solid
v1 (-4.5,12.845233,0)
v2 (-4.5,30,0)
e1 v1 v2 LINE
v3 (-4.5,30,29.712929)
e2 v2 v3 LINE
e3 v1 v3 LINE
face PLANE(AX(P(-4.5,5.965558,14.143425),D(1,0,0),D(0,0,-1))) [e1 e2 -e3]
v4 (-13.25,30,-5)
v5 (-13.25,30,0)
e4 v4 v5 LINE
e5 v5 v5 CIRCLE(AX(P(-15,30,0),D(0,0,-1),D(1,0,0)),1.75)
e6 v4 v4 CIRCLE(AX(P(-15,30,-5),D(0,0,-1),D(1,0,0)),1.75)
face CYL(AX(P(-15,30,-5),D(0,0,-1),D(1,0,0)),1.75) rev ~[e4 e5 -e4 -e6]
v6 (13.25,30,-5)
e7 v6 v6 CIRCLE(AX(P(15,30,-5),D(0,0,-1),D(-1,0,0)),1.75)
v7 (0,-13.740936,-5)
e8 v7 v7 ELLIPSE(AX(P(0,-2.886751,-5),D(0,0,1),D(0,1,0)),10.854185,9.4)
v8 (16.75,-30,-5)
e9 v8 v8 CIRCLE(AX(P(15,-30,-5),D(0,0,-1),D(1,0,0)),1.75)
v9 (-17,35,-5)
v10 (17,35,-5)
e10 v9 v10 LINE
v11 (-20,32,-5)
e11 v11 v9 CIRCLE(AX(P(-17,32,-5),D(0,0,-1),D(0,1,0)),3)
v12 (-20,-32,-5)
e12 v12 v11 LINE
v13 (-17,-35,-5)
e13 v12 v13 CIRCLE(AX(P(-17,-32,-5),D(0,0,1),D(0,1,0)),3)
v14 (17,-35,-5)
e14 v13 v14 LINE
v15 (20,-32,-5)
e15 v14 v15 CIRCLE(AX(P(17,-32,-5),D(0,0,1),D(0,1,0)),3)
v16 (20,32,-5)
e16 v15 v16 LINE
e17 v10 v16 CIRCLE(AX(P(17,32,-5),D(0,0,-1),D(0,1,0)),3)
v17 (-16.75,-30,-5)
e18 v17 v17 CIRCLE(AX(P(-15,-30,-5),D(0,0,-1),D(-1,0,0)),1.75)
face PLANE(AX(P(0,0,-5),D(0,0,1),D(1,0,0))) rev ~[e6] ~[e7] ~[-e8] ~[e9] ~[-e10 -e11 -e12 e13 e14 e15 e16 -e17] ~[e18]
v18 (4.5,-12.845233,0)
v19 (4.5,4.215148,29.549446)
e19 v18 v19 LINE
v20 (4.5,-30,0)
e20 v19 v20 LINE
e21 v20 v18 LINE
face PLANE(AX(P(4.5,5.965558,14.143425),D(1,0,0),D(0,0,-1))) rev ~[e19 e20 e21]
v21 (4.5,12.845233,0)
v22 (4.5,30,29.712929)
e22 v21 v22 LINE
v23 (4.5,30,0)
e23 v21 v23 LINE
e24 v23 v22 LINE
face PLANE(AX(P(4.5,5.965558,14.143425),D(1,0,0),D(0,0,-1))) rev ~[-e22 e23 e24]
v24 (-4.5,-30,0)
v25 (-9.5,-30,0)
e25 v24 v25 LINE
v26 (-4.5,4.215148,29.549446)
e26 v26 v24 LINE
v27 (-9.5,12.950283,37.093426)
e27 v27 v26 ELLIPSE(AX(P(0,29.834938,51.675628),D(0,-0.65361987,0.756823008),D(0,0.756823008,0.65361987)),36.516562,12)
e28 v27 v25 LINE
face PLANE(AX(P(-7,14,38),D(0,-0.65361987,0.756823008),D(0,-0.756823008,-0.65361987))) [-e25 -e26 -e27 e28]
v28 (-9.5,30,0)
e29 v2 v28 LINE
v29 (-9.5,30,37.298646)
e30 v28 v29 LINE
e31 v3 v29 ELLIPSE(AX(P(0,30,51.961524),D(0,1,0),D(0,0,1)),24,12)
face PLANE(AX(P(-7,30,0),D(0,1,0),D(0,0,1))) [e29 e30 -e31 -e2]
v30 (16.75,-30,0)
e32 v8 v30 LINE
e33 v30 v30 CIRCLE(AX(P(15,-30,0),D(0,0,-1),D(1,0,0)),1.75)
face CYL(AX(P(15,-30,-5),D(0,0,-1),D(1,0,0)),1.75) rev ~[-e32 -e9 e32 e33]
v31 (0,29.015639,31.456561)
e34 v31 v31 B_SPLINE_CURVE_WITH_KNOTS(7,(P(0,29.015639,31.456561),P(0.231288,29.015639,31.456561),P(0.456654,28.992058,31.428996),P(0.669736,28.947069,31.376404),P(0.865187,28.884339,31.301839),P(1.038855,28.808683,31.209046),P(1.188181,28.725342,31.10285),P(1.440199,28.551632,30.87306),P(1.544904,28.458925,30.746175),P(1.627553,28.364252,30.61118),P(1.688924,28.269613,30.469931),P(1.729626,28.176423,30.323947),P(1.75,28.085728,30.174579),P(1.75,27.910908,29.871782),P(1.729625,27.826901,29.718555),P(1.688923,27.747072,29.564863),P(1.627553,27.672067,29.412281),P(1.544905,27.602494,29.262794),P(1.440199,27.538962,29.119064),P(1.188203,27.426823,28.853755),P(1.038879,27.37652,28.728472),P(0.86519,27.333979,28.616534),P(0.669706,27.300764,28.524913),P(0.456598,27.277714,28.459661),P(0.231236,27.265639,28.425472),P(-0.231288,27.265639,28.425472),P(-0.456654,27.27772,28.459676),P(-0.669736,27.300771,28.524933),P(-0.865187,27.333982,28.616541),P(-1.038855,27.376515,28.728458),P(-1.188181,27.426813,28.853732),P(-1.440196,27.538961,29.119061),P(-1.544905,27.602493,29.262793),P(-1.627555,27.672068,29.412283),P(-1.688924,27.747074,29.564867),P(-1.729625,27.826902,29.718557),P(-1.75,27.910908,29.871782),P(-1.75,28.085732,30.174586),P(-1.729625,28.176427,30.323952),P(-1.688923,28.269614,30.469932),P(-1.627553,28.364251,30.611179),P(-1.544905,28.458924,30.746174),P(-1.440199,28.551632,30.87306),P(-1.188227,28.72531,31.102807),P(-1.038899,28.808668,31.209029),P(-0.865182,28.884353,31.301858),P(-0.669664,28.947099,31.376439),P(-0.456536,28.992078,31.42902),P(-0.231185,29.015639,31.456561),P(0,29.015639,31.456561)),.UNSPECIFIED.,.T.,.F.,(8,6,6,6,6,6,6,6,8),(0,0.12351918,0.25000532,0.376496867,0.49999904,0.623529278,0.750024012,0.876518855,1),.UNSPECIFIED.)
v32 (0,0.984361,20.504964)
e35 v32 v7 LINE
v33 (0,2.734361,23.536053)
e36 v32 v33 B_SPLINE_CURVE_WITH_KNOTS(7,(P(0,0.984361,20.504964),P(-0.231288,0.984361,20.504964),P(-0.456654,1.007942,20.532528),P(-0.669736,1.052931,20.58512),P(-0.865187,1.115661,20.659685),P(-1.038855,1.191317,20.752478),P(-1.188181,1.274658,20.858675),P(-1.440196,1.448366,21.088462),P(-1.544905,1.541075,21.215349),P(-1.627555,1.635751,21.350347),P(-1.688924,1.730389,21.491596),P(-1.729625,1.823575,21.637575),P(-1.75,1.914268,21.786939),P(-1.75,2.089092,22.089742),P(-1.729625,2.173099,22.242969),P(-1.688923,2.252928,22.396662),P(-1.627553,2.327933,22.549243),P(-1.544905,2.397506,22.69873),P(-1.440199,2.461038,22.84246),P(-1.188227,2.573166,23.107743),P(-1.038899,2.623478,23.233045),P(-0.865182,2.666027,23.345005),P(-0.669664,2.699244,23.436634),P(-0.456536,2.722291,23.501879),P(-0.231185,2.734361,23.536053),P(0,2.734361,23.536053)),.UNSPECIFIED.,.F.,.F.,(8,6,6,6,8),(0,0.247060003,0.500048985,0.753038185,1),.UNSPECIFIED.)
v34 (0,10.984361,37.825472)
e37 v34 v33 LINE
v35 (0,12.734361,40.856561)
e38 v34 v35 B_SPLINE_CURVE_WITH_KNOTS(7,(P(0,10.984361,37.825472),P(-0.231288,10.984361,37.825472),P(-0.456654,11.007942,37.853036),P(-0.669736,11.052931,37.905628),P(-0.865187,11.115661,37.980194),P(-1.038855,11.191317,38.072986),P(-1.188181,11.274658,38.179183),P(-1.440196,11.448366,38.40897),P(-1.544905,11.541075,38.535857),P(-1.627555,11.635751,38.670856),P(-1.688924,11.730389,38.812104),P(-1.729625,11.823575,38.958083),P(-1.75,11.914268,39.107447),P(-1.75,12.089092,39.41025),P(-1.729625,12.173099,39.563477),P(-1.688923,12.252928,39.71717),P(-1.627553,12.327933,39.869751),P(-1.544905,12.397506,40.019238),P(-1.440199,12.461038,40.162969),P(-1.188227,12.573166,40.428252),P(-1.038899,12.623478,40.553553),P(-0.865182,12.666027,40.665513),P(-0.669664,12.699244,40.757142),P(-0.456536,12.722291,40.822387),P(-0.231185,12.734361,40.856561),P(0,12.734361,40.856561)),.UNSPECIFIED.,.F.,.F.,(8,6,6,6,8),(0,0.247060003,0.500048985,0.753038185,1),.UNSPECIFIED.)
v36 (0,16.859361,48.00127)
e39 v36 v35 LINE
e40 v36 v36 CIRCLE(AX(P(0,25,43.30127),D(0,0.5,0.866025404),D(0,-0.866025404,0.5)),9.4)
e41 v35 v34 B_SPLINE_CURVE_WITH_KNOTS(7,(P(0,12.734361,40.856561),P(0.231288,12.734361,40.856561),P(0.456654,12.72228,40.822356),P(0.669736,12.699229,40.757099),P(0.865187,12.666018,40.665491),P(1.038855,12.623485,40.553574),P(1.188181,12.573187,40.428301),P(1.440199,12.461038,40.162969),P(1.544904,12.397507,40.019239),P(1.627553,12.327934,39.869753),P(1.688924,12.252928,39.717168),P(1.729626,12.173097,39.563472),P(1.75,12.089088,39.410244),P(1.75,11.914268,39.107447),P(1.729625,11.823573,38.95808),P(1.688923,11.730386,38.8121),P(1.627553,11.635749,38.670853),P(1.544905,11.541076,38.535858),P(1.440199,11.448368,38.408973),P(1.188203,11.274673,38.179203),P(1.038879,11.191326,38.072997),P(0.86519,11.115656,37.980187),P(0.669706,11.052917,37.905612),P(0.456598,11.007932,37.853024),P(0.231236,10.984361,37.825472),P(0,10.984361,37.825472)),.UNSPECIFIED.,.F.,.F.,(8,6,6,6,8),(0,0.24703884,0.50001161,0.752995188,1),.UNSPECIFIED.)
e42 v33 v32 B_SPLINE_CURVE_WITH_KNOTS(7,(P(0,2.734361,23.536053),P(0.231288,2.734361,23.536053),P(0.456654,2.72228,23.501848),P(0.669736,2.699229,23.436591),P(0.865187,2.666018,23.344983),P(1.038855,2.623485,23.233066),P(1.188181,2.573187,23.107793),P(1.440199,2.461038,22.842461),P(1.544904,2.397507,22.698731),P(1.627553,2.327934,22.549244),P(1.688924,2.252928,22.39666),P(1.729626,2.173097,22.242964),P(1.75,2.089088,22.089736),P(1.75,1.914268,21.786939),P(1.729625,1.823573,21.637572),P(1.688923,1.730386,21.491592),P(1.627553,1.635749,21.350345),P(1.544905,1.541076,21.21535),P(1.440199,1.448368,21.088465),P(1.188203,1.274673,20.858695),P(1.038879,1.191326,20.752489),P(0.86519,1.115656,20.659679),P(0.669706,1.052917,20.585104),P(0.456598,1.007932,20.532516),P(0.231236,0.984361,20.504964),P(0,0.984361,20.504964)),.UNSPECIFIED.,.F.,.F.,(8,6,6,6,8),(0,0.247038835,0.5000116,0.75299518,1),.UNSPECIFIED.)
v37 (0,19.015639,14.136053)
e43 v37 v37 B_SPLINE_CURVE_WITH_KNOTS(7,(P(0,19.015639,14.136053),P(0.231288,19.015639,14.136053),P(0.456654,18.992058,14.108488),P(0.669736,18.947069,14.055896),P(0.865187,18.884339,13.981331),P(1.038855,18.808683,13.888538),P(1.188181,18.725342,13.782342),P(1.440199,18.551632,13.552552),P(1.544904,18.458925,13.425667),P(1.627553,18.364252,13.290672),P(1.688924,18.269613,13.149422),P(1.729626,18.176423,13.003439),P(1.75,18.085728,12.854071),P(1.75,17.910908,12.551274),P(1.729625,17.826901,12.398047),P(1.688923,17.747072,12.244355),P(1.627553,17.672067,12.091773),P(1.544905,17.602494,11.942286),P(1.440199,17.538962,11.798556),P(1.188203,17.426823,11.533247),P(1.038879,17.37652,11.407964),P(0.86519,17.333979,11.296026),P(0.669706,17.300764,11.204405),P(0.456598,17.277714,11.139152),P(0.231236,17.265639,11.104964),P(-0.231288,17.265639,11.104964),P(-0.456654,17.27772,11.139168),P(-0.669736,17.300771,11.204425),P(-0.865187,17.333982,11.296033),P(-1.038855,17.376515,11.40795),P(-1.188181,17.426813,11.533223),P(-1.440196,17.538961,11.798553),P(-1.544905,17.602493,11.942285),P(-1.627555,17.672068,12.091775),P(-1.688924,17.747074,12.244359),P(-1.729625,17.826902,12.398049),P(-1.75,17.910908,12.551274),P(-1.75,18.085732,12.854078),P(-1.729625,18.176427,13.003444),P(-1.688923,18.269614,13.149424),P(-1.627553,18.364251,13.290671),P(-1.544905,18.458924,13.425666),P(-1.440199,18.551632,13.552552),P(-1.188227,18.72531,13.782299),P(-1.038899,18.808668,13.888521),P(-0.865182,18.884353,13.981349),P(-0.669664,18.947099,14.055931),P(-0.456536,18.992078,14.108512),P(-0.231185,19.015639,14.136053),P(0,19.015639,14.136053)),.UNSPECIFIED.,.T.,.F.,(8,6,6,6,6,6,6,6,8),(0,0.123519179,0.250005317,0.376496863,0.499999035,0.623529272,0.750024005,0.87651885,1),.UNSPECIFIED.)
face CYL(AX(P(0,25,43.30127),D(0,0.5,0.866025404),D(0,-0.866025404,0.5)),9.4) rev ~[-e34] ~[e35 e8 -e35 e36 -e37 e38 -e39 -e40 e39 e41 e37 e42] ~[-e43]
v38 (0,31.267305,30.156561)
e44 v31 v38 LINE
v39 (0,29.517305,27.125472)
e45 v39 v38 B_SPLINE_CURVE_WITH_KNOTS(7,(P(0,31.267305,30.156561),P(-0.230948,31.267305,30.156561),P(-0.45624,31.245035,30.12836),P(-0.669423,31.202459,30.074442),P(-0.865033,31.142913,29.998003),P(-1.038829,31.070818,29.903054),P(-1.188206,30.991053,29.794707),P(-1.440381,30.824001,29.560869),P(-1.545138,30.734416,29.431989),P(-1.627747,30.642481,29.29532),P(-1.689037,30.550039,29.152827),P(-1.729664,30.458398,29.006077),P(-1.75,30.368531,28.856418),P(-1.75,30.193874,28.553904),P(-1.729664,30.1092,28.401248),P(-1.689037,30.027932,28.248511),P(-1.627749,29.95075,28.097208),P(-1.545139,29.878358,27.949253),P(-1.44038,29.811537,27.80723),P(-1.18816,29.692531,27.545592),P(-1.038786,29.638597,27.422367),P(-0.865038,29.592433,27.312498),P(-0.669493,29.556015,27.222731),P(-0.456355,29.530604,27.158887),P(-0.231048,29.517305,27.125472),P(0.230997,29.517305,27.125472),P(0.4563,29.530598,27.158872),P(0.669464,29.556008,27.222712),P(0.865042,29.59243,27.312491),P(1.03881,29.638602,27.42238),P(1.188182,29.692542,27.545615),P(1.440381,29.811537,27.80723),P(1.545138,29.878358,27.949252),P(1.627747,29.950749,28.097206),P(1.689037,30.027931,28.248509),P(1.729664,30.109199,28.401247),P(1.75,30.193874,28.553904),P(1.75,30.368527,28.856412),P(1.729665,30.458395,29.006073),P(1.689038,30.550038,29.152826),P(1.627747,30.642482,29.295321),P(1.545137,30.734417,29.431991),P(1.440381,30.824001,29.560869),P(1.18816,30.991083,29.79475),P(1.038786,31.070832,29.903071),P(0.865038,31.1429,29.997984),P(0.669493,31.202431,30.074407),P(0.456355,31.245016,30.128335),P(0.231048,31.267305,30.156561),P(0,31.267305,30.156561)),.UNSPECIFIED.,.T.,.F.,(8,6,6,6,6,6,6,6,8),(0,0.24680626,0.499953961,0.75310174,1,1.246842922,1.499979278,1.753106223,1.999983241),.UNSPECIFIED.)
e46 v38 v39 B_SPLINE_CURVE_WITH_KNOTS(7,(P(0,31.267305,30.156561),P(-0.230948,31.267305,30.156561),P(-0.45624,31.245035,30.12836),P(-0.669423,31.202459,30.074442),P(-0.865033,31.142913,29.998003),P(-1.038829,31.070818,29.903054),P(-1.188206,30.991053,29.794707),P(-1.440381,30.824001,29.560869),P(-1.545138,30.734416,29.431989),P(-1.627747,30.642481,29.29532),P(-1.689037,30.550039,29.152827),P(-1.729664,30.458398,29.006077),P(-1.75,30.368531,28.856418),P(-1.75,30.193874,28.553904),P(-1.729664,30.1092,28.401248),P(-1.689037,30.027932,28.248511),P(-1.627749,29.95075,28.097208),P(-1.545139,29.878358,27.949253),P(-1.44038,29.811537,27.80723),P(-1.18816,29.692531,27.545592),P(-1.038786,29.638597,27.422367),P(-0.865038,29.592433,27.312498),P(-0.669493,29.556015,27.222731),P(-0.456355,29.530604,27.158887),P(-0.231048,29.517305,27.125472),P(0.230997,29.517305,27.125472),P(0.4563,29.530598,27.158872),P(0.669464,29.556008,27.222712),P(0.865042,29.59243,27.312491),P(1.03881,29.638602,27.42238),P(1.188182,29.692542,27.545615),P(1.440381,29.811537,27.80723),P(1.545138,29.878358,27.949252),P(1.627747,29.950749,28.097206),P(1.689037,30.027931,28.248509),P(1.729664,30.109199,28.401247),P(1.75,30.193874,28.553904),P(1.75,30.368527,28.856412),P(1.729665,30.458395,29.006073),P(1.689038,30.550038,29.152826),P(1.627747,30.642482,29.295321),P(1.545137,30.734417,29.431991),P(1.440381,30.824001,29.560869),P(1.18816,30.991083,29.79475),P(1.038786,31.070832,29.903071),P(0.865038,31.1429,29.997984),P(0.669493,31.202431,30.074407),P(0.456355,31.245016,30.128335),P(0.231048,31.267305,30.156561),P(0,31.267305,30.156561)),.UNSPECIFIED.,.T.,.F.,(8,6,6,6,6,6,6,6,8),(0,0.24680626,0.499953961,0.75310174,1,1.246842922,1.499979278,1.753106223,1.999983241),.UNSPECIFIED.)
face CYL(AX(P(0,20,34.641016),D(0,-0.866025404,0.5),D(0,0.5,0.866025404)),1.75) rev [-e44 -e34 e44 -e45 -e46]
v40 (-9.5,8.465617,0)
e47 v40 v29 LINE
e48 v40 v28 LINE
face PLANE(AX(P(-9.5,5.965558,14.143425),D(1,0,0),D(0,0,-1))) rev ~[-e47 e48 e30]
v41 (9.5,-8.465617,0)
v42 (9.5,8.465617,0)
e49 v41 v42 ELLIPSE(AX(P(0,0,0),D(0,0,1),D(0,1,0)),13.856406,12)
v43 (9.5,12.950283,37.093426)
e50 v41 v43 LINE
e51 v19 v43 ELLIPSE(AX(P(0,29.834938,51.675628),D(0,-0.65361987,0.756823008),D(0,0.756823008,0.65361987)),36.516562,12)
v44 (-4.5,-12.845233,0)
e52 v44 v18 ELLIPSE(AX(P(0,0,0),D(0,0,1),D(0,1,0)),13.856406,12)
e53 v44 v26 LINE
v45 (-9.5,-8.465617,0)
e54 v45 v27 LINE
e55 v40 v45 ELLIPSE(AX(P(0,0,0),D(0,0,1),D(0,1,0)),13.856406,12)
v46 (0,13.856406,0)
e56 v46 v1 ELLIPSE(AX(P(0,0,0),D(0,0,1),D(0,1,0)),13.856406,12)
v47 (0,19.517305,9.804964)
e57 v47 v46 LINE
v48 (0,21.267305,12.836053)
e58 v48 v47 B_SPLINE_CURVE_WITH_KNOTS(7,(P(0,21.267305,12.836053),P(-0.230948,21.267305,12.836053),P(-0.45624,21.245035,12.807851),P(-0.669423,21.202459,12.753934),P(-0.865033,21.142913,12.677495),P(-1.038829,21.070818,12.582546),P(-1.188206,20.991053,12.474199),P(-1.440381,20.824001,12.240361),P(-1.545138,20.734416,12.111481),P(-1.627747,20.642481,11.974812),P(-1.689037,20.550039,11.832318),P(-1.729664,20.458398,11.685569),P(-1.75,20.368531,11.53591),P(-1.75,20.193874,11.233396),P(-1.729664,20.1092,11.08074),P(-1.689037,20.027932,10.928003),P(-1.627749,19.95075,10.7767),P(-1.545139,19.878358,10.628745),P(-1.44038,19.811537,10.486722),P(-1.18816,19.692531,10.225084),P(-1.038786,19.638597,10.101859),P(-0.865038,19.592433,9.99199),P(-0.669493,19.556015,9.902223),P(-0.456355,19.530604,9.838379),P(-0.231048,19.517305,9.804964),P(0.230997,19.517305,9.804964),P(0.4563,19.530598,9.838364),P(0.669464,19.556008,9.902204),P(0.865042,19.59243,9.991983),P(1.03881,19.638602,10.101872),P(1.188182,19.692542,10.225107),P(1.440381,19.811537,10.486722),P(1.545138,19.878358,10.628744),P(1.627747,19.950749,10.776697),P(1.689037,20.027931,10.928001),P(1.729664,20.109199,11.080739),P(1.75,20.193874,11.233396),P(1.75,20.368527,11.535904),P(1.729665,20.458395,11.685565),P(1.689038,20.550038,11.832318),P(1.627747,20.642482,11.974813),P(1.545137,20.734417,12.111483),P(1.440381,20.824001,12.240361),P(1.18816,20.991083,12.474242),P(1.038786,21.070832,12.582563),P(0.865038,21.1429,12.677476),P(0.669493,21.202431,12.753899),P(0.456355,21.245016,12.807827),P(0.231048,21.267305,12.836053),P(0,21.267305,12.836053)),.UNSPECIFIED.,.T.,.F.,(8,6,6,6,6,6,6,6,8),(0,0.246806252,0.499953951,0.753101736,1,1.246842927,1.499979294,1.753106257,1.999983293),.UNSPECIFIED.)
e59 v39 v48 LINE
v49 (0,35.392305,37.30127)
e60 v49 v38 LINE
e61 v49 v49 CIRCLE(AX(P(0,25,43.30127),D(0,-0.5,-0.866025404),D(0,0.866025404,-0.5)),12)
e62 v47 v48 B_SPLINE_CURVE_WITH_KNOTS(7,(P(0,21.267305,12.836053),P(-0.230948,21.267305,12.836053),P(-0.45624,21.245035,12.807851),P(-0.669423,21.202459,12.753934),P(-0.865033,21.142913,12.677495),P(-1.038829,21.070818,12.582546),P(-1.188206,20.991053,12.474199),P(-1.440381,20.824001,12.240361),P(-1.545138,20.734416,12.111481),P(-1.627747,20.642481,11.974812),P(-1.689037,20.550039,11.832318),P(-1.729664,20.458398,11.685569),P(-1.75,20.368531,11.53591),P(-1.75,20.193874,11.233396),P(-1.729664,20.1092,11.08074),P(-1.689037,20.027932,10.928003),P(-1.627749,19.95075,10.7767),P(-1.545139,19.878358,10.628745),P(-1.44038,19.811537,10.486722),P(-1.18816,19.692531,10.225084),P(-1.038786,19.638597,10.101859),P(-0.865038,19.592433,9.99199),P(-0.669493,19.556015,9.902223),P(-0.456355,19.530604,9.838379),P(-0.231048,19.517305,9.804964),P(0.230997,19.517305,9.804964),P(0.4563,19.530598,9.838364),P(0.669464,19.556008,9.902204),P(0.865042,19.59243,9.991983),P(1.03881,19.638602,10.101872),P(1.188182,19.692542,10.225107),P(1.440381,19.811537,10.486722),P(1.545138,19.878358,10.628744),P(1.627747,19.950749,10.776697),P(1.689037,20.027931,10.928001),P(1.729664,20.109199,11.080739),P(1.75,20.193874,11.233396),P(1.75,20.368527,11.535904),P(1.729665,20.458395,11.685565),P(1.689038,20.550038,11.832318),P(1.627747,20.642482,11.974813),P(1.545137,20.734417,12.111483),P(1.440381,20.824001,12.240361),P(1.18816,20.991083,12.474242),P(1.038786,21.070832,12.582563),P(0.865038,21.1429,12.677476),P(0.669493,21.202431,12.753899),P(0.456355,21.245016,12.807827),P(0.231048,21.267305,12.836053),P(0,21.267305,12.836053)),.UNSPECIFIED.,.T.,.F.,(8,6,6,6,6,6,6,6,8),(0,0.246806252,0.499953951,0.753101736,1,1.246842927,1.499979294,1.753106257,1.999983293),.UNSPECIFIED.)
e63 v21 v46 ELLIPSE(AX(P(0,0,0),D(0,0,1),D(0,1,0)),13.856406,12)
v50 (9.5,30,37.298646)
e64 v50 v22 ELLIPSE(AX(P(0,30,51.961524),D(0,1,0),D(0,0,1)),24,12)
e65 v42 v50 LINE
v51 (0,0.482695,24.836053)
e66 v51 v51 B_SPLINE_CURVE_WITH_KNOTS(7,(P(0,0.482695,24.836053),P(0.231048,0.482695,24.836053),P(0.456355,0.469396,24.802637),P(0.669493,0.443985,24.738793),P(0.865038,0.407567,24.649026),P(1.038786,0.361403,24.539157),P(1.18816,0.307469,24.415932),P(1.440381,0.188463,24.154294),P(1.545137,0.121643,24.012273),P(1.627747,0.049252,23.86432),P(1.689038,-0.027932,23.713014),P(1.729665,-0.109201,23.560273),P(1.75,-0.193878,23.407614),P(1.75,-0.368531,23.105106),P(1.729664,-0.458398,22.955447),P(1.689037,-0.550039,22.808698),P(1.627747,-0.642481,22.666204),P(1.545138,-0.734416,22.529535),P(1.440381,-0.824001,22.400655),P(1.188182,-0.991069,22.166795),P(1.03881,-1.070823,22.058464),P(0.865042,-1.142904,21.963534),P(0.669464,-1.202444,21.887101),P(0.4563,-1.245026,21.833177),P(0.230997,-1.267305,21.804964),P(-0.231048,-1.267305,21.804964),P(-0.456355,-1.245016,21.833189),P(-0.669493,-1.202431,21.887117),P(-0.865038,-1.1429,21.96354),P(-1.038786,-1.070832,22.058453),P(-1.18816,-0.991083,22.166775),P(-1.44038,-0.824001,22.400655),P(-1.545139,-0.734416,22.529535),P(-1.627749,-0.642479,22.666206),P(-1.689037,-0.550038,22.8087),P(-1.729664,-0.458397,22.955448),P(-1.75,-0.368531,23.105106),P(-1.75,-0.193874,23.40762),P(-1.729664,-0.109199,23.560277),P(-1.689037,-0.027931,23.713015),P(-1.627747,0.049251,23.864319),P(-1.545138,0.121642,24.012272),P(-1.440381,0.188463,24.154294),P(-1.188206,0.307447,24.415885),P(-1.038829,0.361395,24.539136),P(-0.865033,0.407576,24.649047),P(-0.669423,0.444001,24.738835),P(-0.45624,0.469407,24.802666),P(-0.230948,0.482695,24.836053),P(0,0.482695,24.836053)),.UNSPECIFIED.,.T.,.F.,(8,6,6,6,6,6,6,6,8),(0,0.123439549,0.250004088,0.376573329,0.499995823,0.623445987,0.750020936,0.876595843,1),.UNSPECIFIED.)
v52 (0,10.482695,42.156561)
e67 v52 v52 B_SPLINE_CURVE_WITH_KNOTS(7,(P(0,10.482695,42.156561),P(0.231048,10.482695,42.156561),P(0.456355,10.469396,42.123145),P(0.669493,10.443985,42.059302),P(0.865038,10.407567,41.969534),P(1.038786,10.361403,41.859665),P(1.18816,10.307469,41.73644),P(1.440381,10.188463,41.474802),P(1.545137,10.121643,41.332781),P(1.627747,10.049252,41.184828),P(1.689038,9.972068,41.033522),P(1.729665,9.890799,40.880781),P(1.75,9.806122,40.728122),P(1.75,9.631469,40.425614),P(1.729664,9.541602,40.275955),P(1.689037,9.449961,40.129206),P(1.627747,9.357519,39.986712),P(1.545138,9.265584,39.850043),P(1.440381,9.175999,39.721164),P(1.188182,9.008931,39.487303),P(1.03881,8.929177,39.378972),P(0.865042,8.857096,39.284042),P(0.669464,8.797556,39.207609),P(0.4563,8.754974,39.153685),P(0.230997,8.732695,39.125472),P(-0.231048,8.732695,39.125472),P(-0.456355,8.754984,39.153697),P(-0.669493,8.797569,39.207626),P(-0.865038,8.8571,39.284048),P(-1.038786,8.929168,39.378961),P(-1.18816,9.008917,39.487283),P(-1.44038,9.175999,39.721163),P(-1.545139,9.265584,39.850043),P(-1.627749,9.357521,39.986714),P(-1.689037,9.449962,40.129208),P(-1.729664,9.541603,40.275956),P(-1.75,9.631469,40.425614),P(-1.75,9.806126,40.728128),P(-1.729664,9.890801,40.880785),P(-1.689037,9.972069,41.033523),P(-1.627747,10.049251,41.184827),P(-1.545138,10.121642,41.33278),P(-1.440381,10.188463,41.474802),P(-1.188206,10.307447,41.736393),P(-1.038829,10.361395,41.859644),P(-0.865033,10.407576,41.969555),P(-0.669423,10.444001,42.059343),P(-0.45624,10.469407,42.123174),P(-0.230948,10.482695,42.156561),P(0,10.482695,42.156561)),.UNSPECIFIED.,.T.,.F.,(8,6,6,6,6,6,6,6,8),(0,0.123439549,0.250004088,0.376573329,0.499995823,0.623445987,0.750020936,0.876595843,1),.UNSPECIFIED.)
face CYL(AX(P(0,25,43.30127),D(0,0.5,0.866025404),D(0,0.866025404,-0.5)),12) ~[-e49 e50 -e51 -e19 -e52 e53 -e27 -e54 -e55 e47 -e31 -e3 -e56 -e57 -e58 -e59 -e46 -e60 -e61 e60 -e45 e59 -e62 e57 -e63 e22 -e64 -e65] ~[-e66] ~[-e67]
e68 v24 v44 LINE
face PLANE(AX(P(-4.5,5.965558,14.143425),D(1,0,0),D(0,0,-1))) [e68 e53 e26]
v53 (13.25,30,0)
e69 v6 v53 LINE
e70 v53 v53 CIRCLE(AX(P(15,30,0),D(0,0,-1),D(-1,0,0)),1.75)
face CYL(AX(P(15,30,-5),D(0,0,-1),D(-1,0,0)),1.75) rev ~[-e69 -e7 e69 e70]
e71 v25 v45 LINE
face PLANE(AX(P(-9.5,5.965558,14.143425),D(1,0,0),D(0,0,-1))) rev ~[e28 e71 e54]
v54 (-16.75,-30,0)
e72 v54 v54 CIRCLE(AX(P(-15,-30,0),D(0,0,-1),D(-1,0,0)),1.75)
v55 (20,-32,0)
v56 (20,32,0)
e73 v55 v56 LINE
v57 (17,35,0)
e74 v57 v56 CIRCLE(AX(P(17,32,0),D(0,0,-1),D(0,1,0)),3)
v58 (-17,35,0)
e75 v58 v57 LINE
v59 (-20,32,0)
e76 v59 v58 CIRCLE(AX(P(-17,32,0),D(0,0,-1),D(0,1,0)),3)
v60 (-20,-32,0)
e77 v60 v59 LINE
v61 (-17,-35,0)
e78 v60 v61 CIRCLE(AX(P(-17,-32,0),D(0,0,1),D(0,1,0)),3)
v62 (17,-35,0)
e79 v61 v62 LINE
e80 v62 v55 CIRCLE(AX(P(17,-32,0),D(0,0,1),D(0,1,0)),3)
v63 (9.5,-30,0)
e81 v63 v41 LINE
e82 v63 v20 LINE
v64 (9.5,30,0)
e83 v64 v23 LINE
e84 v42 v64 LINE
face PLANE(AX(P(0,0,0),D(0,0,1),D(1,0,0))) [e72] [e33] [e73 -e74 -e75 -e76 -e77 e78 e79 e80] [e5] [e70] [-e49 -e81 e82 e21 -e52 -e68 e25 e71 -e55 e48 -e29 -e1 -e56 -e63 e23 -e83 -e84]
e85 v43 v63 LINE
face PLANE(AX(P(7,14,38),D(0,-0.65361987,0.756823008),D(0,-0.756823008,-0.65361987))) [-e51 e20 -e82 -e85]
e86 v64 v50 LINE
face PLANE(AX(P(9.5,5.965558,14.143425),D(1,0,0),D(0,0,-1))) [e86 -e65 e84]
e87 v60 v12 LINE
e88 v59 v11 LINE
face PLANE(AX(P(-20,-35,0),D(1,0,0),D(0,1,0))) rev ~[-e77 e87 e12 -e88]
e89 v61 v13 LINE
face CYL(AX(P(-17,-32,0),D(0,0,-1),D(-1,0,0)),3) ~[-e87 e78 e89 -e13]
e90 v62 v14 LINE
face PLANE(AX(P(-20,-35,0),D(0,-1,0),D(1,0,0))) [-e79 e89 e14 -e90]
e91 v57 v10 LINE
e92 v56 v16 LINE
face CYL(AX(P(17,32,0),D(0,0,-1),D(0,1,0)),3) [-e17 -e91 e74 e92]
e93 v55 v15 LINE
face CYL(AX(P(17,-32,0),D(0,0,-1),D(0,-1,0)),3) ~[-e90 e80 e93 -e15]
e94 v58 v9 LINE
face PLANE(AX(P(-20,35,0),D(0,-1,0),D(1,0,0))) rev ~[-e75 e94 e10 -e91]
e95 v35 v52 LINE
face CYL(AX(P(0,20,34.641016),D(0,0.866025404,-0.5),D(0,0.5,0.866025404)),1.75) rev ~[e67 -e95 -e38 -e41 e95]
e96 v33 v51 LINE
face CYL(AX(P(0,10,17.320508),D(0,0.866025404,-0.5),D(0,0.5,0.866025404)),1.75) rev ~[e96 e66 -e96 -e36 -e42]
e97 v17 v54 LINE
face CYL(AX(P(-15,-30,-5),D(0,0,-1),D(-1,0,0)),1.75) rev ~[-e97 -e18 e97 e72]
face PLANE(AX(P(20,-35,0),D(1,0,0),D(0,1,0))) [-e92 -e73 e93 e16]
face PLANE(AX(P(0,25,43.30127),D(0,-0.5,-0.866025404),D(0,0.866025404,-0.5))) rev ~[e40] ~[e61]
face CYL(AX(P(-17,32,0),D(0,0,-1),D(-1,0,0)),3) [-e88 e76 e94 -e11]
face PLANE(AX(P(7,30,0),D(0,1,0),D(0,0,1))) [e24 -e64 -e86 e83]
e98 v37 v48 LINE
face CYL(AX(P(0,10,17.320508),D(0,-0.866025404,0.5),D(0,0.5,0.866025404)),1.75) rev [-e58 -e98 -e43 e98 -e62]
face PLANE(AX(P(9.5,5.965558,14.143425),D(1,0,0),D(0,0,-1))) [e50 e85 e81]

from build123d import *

# Parameters (mm, degrees)
SKETCH_1_W                           = 40
SKETCH_1_H                           = 70
EXTRUDE_1_DEPTH                      = 5
EXTRUDE_2_REACH                      = 92.62
EXTRUDE_START                        = -50
SKETCH_2_R                           = 12
CUT_EXTRUDE_1_REACH                  = 69.832
SKETCH_4_R                           = 1.75
FILLET_1_R                           = 3
EXTRUDE_START_2                      = 7
EXTRUDE_3_DEPTH                      = 2.5
EXTRUDE_START_3                      = -7
EXTRUDE_4_DEPTH                      = 2.5
SKETCH_5_R                           = 9.4
CUT_EXTRUDE_2_DEPTH                  = 80.580228084
CUT_EXTRUDE_3_REACH                  = 65.9
CUT_EXTRUDE_3_END_RADIUS             = 12
SKETCH_7_R                           = 1.75
CUT_EXTRUDE_3_DIRECTION_2_REACH      = 65.9
CUT_EXTRUDE_3_DIRECTION_2_END_RADIUS = 12


with BuildPart() as part:
    # ｽｹｯﾁ1 → ﾎﾞｽ - 押し出し1 (new body)
    with BuildSketch(Plane.XY):
        Rectangle(SKETCH_1_W, SKETCH_1_H)
    extrude(amount=-EXTRUDE_1_DEPTH)

    # ﾎﾞｽ - 押し出し2: up to this plane
    extrude_2_end = Plane(origin=(0, 0, 0), z_dir=(0, 0, 1))
    # ｽｹｯﾁ2 → ﾎﾞｽ - 押し出し2 (add, up to the surface)
    with BuildSketch(Plane(origin=(0, 0, 0), x_dir=(1, 0, 0), z_dir=(0, -0.49999999999999495, -0.8660254037844416)).offset(EXTRUDE_START), mode=Mode.PRIVATE) as extrude_2_sk1:
        with Locations(Location((0, 0, 0), (0, 0, 270))):
            Circle(SKETCH_2_R)
    extrude_2_tool1 = split(extrude(extrude_2_sk1.sketch, amount=EXTRUDE_2_REACH, mode=Mode.PRIVATE), bisect_by=extrude_2_end, keep=Keep.BOTH, mode=Mode.PRIVATE)
    add(extrude_2_tool1.solids().sort_by_distance((0, 25, 43.30127))[0])

    # ｽｹｯﾁ4 → ｶｯﾄ - 押し出し1 (cut, up to next)
    with BuildSketch(Plane(origin=(0, 0, -5), x_dir=(-1, 0, 0), z_dir=(0, 0, -1)), mode=Mode.PRIVATE) as cut_extrude_1_sk1:
        with Locations((-15, 30)):
            Circle(SKETCH_4_R)
    cut_extrude_1_tool1 = extrude(cut_extrude_1_sk1.sketch, amount=-CUT_EXTRUDE_1_REACH, mode=Mode.PRIVATE) & part.part
    # ｽｹｯﾁ4 → ｶｯﾄ - 押し出し1 (cut, up to next)
    with BuildSketch(Plane(origin=(0, 0, -5), x_dir=(-1, 0, 0), z_dir=(0, 0, -1)), mode=Mode.PRIVATE) as cut_extrude_1_sk2:
        with Locations(Location((15, 30, 0), (0, 0, 180))):
            Circle(SKETCH_4_R)
    cut_extrude_1_tool2 = extrude(cut_extrude_1_sk2.sketch, amount=-CUT_EXTRUDE_1_REACH, mode=Mode.PRIVATE) & part.part
    # ｽｹｯﾁ4 → ｶｯﾄ - 押し出し1 (cut, up to next)
    with BuildSketch(Plane(origin=(0, 0, -5), x_dir=(-1, 0, 0), z_dir=(0, 0, -1)), mode=Mode.PRIVATE) as cut_extrude_1_sk3:
        with Locations((15, -30)):
            Circle(SKETCH_4_R)
    cut_extrude_1_tool3 = extrude(cut_extrude_1_sk3.sketch, amount=-CUT_EXTRUDE_1_REACH, mode=Mode.PRIVATE) & part.part
    # ｽｹｯﾁ4 → ｶｯﾄ - 押し出し1 (cut, up to next)
    with BuildSketch(Plane(origin=(0, 0, -5), x_dir=(-1, 0, 0), z_dir=(0, 0, -1)), mode=Mode.PRIVATE) as cut_extrude_1_sk4:
        with Locations(Location((-15, -30, 0), (0, 0, 180))):
            Circle(SKETCH_4_R)
    cut_extrude_1_tool4 = extrude(cut_extrude_1_sk4.sketch, amount=-CUT_EXTRUDE_1_REACH, mode=Mode.PRIVATE) & part.part
    add(cut_extrude_1_tool1.solids().sort_by_distance((15, 30, -5))[0], mode=Mode.SUBTRACT)
    add(cut_extrude_1_tool2.solids().sort_by_distance((-15, 30, -5))[0], mode=Mode.SUBTRACT)
    add(cut_extrude_1_tool3.solids().sort_by_distance((-15, -30, -5))[0], mode=Mode.SUBTRACT)
    add(cut_extrude_1_tool4.solids().sort_by_distance((15, -30, -5))[0], mode=Mode.SUBTRACT)

    # ﾌｨﾚｯﾄ1
    fillet_1_edges = [part.edges().sort_by_distance(p)[0] for p in [
        (20, -35, -2.5),
        (-20, -35, -2.5),
        (-20, 35, -2.5),
        (20, 35, -2.5),
    ]]
    fillet(fillet_1_edges, radius=FILLET_1_R)

    # ｽｹｯﾁ6 → ﾎﾞｽ - 押し出し3 (add, symmetric)
    with BuildSketch(Plane(origin=(0, 0, 0), x_dir=(0, 0, -1), z_dir=(1, 0, 0)).offset(EXTRUDE_START_2)):
        Polygon((0, 30), (-38, 30), (-38, 14), (0, -30), align=None)
    extrude(amount=EXTRUDE_3_DEPTH, both=True)

    # ｽｹｯﾁ6<2> → ﾎﾞｽ - 押し出し4 (add, symmetric)
    with BuildSketch(Plane(origin=(0, 0, 0), x_dir=(0, 0, -1), z_dir=(1, 0, 0)).offset(EXTRUDE_START_3)):
        Polygon((0, 30), (-38, 30), (-38, 14), (0, -30), align=None)
    extrude(amount=EXTRUDE_4_DEPTH, both=True)

    # ｽｹｯﾁ5 → ｶｯﾄ - 押し出し2 (cut, through all)
    with BuildSketch(Plane(origin=(0, 25, 43.301270189), x_dir=(1, 0, 0), z_dir=(0, 0.49999999999999495, 0.8660254037844416))):
        with Locations(Location((0, 0, 0), (0, 0, 270))):
            Circle(SKETCH_5_R)
    extrude(amount=-CUT_EXTRUDE_2_DEPTH, mode=Mode.SUBTRACT)

    # ｶｯﾄ - 押し出し3: up to this cylinder (the profile starts inside it)
    cut_extrude_3_end = Plane(origin=(0, 14.999999951, 25.980762028), z_dir=(0, 0.4999999999999949, 0.8660254037844416)) * Cylinder(CUT_EXTRUDE_3_END_RADIUS, 176.799999934, mode=Mode.PRIVATE)
    # ｽｹｯﾁ7 → ｶｯﾄ - 押し出し3 (cut, up to the surface)
    with BuildSketch(Plane(origin=(0, 0, 0), x_dir=(1, 0, 0), z_dir=(0, 0.8660254037844416, -0.49999999999999495)), mode=Mode.PRIVATE) as cut_extrude_3_sk1:
        with Locations(Location((0, -20, 0), (0, 0, 270))):
            Circle(SKETCH_7_R)
    cut_extrude_3_tool1 = extrude(cut_extrude_3_sk1.sketch, amount=-CUT_EXTRUDE_3_REACH, mode=Mode.PRIVATE) & cut_extrude_3_end
    add(cut_extrude_3_tool1.solids().sort_by_distance((0, 10, 17.320508))[0], mode=Mode.SUBTRACT)
    # ｽｹｯﾁ7 → ｶｯﾄ - 押し出し3 (cut, up to the surface)
    with BuildSketch(Plane(origin=(0, 0, 0), x_dir=(1, 0, 0), z_dir=(0, 0.8660254037844416, -0.49999999999999495)), mode=Mode.PRIVATE) as cut_extrude_3_sk2:
        with Locations(Location((0, -40, 0), (0, 0, 270))):
            Circle(SKETCH_7_R)
    cut_extrude_3_tool2 = extrude(cut_extrude_3_sk2.sketch, amount=-CUT_EXTRUDE_3_REACH, mode=Mode.PRIVATE) & cut_extrude_3_end
    add(cut_extrude_3_tool2.solids().sort_by_distance((0, 20, 34.641016))[0], mode=Mode.SUBTRACT)

    # ｶｯﾄ - 押し出し3 direction 2: up to this cylinder (the profile starts inside it)
    cut_extrude_3_direction_2_end = Plane(origin=(0, 14.999999951, 25.980762028), z_dir=(0, 0.4999999999999949, 0.8660254037844416)) * Cylinder(CUT_EXTRUDE_3_DIRECTION_2_END_RADIUS, 176.799999934, mode=Mode.PRIVATE)
    # ｽｹｯﾁ7 → ｶｯﾄ - 押し出し3 direction 2 (cut, up to the surface)
    with BuildSketch(Plane(origin=(0, 0, 0), x_dir=(1, 0, 0), z_dir=(0, 0.8660254037844416, -0.49999999999999495)), mode=Mode.PRIVATE) as cut_extrude_3_direction_2_sk1:
        with Locations(Location((0, -20, 0), (0, 0, 270))):
            Circle(SKETCH_7_R)
    cut_extrude_3_direction_2_tool1 = extrude(cut_extrude_3_direction_2_sk1.sketch, amount=CUT_EXTRUDE_3_DIRECTION_2_REACH, mode=Mode.PRIVATE) & cut_extrude_3_direction_2_end
    add(cut_extrude_3_direction_2_tool1.solids().sort_by_distance((0, 10, 17.320508))[0], mode=Mode.SUBTRACT)
    # ｽｹｯﾁ7 → ｶｯﾄ - 押し出し3 direction 2 (cut, up to the surface)
    with BuildSketch(Plane(origin=(0, 0, 0), x_dir=(1, 0, 0), z_dir=(0, 0.8660254037844416, -0.49999999999999495)), mode=Mode.PRIVATE) as cut_extrude_3_direction_2_sk2:
        with Locations(Location((0, -40, 0), (0, 0, 270))):
            Circle(SKETCH_7_R)
    cut_extrude_3_direction_2_tool2 = extrude(cut_extrude_3_direction_2_sk2.sketch, amount=CUT_EXTRUDE_3_DIRECTION_2_REACH, mode=Mode.PRIVATE) & cut_extrude_3_direction_2_end
    add(cut_extrude_3_direction_2_tool2.solids().sort_by_distance((0, 20, 34.641016))[0], mode=Mode.SUBTRACT)


solid = part.part
